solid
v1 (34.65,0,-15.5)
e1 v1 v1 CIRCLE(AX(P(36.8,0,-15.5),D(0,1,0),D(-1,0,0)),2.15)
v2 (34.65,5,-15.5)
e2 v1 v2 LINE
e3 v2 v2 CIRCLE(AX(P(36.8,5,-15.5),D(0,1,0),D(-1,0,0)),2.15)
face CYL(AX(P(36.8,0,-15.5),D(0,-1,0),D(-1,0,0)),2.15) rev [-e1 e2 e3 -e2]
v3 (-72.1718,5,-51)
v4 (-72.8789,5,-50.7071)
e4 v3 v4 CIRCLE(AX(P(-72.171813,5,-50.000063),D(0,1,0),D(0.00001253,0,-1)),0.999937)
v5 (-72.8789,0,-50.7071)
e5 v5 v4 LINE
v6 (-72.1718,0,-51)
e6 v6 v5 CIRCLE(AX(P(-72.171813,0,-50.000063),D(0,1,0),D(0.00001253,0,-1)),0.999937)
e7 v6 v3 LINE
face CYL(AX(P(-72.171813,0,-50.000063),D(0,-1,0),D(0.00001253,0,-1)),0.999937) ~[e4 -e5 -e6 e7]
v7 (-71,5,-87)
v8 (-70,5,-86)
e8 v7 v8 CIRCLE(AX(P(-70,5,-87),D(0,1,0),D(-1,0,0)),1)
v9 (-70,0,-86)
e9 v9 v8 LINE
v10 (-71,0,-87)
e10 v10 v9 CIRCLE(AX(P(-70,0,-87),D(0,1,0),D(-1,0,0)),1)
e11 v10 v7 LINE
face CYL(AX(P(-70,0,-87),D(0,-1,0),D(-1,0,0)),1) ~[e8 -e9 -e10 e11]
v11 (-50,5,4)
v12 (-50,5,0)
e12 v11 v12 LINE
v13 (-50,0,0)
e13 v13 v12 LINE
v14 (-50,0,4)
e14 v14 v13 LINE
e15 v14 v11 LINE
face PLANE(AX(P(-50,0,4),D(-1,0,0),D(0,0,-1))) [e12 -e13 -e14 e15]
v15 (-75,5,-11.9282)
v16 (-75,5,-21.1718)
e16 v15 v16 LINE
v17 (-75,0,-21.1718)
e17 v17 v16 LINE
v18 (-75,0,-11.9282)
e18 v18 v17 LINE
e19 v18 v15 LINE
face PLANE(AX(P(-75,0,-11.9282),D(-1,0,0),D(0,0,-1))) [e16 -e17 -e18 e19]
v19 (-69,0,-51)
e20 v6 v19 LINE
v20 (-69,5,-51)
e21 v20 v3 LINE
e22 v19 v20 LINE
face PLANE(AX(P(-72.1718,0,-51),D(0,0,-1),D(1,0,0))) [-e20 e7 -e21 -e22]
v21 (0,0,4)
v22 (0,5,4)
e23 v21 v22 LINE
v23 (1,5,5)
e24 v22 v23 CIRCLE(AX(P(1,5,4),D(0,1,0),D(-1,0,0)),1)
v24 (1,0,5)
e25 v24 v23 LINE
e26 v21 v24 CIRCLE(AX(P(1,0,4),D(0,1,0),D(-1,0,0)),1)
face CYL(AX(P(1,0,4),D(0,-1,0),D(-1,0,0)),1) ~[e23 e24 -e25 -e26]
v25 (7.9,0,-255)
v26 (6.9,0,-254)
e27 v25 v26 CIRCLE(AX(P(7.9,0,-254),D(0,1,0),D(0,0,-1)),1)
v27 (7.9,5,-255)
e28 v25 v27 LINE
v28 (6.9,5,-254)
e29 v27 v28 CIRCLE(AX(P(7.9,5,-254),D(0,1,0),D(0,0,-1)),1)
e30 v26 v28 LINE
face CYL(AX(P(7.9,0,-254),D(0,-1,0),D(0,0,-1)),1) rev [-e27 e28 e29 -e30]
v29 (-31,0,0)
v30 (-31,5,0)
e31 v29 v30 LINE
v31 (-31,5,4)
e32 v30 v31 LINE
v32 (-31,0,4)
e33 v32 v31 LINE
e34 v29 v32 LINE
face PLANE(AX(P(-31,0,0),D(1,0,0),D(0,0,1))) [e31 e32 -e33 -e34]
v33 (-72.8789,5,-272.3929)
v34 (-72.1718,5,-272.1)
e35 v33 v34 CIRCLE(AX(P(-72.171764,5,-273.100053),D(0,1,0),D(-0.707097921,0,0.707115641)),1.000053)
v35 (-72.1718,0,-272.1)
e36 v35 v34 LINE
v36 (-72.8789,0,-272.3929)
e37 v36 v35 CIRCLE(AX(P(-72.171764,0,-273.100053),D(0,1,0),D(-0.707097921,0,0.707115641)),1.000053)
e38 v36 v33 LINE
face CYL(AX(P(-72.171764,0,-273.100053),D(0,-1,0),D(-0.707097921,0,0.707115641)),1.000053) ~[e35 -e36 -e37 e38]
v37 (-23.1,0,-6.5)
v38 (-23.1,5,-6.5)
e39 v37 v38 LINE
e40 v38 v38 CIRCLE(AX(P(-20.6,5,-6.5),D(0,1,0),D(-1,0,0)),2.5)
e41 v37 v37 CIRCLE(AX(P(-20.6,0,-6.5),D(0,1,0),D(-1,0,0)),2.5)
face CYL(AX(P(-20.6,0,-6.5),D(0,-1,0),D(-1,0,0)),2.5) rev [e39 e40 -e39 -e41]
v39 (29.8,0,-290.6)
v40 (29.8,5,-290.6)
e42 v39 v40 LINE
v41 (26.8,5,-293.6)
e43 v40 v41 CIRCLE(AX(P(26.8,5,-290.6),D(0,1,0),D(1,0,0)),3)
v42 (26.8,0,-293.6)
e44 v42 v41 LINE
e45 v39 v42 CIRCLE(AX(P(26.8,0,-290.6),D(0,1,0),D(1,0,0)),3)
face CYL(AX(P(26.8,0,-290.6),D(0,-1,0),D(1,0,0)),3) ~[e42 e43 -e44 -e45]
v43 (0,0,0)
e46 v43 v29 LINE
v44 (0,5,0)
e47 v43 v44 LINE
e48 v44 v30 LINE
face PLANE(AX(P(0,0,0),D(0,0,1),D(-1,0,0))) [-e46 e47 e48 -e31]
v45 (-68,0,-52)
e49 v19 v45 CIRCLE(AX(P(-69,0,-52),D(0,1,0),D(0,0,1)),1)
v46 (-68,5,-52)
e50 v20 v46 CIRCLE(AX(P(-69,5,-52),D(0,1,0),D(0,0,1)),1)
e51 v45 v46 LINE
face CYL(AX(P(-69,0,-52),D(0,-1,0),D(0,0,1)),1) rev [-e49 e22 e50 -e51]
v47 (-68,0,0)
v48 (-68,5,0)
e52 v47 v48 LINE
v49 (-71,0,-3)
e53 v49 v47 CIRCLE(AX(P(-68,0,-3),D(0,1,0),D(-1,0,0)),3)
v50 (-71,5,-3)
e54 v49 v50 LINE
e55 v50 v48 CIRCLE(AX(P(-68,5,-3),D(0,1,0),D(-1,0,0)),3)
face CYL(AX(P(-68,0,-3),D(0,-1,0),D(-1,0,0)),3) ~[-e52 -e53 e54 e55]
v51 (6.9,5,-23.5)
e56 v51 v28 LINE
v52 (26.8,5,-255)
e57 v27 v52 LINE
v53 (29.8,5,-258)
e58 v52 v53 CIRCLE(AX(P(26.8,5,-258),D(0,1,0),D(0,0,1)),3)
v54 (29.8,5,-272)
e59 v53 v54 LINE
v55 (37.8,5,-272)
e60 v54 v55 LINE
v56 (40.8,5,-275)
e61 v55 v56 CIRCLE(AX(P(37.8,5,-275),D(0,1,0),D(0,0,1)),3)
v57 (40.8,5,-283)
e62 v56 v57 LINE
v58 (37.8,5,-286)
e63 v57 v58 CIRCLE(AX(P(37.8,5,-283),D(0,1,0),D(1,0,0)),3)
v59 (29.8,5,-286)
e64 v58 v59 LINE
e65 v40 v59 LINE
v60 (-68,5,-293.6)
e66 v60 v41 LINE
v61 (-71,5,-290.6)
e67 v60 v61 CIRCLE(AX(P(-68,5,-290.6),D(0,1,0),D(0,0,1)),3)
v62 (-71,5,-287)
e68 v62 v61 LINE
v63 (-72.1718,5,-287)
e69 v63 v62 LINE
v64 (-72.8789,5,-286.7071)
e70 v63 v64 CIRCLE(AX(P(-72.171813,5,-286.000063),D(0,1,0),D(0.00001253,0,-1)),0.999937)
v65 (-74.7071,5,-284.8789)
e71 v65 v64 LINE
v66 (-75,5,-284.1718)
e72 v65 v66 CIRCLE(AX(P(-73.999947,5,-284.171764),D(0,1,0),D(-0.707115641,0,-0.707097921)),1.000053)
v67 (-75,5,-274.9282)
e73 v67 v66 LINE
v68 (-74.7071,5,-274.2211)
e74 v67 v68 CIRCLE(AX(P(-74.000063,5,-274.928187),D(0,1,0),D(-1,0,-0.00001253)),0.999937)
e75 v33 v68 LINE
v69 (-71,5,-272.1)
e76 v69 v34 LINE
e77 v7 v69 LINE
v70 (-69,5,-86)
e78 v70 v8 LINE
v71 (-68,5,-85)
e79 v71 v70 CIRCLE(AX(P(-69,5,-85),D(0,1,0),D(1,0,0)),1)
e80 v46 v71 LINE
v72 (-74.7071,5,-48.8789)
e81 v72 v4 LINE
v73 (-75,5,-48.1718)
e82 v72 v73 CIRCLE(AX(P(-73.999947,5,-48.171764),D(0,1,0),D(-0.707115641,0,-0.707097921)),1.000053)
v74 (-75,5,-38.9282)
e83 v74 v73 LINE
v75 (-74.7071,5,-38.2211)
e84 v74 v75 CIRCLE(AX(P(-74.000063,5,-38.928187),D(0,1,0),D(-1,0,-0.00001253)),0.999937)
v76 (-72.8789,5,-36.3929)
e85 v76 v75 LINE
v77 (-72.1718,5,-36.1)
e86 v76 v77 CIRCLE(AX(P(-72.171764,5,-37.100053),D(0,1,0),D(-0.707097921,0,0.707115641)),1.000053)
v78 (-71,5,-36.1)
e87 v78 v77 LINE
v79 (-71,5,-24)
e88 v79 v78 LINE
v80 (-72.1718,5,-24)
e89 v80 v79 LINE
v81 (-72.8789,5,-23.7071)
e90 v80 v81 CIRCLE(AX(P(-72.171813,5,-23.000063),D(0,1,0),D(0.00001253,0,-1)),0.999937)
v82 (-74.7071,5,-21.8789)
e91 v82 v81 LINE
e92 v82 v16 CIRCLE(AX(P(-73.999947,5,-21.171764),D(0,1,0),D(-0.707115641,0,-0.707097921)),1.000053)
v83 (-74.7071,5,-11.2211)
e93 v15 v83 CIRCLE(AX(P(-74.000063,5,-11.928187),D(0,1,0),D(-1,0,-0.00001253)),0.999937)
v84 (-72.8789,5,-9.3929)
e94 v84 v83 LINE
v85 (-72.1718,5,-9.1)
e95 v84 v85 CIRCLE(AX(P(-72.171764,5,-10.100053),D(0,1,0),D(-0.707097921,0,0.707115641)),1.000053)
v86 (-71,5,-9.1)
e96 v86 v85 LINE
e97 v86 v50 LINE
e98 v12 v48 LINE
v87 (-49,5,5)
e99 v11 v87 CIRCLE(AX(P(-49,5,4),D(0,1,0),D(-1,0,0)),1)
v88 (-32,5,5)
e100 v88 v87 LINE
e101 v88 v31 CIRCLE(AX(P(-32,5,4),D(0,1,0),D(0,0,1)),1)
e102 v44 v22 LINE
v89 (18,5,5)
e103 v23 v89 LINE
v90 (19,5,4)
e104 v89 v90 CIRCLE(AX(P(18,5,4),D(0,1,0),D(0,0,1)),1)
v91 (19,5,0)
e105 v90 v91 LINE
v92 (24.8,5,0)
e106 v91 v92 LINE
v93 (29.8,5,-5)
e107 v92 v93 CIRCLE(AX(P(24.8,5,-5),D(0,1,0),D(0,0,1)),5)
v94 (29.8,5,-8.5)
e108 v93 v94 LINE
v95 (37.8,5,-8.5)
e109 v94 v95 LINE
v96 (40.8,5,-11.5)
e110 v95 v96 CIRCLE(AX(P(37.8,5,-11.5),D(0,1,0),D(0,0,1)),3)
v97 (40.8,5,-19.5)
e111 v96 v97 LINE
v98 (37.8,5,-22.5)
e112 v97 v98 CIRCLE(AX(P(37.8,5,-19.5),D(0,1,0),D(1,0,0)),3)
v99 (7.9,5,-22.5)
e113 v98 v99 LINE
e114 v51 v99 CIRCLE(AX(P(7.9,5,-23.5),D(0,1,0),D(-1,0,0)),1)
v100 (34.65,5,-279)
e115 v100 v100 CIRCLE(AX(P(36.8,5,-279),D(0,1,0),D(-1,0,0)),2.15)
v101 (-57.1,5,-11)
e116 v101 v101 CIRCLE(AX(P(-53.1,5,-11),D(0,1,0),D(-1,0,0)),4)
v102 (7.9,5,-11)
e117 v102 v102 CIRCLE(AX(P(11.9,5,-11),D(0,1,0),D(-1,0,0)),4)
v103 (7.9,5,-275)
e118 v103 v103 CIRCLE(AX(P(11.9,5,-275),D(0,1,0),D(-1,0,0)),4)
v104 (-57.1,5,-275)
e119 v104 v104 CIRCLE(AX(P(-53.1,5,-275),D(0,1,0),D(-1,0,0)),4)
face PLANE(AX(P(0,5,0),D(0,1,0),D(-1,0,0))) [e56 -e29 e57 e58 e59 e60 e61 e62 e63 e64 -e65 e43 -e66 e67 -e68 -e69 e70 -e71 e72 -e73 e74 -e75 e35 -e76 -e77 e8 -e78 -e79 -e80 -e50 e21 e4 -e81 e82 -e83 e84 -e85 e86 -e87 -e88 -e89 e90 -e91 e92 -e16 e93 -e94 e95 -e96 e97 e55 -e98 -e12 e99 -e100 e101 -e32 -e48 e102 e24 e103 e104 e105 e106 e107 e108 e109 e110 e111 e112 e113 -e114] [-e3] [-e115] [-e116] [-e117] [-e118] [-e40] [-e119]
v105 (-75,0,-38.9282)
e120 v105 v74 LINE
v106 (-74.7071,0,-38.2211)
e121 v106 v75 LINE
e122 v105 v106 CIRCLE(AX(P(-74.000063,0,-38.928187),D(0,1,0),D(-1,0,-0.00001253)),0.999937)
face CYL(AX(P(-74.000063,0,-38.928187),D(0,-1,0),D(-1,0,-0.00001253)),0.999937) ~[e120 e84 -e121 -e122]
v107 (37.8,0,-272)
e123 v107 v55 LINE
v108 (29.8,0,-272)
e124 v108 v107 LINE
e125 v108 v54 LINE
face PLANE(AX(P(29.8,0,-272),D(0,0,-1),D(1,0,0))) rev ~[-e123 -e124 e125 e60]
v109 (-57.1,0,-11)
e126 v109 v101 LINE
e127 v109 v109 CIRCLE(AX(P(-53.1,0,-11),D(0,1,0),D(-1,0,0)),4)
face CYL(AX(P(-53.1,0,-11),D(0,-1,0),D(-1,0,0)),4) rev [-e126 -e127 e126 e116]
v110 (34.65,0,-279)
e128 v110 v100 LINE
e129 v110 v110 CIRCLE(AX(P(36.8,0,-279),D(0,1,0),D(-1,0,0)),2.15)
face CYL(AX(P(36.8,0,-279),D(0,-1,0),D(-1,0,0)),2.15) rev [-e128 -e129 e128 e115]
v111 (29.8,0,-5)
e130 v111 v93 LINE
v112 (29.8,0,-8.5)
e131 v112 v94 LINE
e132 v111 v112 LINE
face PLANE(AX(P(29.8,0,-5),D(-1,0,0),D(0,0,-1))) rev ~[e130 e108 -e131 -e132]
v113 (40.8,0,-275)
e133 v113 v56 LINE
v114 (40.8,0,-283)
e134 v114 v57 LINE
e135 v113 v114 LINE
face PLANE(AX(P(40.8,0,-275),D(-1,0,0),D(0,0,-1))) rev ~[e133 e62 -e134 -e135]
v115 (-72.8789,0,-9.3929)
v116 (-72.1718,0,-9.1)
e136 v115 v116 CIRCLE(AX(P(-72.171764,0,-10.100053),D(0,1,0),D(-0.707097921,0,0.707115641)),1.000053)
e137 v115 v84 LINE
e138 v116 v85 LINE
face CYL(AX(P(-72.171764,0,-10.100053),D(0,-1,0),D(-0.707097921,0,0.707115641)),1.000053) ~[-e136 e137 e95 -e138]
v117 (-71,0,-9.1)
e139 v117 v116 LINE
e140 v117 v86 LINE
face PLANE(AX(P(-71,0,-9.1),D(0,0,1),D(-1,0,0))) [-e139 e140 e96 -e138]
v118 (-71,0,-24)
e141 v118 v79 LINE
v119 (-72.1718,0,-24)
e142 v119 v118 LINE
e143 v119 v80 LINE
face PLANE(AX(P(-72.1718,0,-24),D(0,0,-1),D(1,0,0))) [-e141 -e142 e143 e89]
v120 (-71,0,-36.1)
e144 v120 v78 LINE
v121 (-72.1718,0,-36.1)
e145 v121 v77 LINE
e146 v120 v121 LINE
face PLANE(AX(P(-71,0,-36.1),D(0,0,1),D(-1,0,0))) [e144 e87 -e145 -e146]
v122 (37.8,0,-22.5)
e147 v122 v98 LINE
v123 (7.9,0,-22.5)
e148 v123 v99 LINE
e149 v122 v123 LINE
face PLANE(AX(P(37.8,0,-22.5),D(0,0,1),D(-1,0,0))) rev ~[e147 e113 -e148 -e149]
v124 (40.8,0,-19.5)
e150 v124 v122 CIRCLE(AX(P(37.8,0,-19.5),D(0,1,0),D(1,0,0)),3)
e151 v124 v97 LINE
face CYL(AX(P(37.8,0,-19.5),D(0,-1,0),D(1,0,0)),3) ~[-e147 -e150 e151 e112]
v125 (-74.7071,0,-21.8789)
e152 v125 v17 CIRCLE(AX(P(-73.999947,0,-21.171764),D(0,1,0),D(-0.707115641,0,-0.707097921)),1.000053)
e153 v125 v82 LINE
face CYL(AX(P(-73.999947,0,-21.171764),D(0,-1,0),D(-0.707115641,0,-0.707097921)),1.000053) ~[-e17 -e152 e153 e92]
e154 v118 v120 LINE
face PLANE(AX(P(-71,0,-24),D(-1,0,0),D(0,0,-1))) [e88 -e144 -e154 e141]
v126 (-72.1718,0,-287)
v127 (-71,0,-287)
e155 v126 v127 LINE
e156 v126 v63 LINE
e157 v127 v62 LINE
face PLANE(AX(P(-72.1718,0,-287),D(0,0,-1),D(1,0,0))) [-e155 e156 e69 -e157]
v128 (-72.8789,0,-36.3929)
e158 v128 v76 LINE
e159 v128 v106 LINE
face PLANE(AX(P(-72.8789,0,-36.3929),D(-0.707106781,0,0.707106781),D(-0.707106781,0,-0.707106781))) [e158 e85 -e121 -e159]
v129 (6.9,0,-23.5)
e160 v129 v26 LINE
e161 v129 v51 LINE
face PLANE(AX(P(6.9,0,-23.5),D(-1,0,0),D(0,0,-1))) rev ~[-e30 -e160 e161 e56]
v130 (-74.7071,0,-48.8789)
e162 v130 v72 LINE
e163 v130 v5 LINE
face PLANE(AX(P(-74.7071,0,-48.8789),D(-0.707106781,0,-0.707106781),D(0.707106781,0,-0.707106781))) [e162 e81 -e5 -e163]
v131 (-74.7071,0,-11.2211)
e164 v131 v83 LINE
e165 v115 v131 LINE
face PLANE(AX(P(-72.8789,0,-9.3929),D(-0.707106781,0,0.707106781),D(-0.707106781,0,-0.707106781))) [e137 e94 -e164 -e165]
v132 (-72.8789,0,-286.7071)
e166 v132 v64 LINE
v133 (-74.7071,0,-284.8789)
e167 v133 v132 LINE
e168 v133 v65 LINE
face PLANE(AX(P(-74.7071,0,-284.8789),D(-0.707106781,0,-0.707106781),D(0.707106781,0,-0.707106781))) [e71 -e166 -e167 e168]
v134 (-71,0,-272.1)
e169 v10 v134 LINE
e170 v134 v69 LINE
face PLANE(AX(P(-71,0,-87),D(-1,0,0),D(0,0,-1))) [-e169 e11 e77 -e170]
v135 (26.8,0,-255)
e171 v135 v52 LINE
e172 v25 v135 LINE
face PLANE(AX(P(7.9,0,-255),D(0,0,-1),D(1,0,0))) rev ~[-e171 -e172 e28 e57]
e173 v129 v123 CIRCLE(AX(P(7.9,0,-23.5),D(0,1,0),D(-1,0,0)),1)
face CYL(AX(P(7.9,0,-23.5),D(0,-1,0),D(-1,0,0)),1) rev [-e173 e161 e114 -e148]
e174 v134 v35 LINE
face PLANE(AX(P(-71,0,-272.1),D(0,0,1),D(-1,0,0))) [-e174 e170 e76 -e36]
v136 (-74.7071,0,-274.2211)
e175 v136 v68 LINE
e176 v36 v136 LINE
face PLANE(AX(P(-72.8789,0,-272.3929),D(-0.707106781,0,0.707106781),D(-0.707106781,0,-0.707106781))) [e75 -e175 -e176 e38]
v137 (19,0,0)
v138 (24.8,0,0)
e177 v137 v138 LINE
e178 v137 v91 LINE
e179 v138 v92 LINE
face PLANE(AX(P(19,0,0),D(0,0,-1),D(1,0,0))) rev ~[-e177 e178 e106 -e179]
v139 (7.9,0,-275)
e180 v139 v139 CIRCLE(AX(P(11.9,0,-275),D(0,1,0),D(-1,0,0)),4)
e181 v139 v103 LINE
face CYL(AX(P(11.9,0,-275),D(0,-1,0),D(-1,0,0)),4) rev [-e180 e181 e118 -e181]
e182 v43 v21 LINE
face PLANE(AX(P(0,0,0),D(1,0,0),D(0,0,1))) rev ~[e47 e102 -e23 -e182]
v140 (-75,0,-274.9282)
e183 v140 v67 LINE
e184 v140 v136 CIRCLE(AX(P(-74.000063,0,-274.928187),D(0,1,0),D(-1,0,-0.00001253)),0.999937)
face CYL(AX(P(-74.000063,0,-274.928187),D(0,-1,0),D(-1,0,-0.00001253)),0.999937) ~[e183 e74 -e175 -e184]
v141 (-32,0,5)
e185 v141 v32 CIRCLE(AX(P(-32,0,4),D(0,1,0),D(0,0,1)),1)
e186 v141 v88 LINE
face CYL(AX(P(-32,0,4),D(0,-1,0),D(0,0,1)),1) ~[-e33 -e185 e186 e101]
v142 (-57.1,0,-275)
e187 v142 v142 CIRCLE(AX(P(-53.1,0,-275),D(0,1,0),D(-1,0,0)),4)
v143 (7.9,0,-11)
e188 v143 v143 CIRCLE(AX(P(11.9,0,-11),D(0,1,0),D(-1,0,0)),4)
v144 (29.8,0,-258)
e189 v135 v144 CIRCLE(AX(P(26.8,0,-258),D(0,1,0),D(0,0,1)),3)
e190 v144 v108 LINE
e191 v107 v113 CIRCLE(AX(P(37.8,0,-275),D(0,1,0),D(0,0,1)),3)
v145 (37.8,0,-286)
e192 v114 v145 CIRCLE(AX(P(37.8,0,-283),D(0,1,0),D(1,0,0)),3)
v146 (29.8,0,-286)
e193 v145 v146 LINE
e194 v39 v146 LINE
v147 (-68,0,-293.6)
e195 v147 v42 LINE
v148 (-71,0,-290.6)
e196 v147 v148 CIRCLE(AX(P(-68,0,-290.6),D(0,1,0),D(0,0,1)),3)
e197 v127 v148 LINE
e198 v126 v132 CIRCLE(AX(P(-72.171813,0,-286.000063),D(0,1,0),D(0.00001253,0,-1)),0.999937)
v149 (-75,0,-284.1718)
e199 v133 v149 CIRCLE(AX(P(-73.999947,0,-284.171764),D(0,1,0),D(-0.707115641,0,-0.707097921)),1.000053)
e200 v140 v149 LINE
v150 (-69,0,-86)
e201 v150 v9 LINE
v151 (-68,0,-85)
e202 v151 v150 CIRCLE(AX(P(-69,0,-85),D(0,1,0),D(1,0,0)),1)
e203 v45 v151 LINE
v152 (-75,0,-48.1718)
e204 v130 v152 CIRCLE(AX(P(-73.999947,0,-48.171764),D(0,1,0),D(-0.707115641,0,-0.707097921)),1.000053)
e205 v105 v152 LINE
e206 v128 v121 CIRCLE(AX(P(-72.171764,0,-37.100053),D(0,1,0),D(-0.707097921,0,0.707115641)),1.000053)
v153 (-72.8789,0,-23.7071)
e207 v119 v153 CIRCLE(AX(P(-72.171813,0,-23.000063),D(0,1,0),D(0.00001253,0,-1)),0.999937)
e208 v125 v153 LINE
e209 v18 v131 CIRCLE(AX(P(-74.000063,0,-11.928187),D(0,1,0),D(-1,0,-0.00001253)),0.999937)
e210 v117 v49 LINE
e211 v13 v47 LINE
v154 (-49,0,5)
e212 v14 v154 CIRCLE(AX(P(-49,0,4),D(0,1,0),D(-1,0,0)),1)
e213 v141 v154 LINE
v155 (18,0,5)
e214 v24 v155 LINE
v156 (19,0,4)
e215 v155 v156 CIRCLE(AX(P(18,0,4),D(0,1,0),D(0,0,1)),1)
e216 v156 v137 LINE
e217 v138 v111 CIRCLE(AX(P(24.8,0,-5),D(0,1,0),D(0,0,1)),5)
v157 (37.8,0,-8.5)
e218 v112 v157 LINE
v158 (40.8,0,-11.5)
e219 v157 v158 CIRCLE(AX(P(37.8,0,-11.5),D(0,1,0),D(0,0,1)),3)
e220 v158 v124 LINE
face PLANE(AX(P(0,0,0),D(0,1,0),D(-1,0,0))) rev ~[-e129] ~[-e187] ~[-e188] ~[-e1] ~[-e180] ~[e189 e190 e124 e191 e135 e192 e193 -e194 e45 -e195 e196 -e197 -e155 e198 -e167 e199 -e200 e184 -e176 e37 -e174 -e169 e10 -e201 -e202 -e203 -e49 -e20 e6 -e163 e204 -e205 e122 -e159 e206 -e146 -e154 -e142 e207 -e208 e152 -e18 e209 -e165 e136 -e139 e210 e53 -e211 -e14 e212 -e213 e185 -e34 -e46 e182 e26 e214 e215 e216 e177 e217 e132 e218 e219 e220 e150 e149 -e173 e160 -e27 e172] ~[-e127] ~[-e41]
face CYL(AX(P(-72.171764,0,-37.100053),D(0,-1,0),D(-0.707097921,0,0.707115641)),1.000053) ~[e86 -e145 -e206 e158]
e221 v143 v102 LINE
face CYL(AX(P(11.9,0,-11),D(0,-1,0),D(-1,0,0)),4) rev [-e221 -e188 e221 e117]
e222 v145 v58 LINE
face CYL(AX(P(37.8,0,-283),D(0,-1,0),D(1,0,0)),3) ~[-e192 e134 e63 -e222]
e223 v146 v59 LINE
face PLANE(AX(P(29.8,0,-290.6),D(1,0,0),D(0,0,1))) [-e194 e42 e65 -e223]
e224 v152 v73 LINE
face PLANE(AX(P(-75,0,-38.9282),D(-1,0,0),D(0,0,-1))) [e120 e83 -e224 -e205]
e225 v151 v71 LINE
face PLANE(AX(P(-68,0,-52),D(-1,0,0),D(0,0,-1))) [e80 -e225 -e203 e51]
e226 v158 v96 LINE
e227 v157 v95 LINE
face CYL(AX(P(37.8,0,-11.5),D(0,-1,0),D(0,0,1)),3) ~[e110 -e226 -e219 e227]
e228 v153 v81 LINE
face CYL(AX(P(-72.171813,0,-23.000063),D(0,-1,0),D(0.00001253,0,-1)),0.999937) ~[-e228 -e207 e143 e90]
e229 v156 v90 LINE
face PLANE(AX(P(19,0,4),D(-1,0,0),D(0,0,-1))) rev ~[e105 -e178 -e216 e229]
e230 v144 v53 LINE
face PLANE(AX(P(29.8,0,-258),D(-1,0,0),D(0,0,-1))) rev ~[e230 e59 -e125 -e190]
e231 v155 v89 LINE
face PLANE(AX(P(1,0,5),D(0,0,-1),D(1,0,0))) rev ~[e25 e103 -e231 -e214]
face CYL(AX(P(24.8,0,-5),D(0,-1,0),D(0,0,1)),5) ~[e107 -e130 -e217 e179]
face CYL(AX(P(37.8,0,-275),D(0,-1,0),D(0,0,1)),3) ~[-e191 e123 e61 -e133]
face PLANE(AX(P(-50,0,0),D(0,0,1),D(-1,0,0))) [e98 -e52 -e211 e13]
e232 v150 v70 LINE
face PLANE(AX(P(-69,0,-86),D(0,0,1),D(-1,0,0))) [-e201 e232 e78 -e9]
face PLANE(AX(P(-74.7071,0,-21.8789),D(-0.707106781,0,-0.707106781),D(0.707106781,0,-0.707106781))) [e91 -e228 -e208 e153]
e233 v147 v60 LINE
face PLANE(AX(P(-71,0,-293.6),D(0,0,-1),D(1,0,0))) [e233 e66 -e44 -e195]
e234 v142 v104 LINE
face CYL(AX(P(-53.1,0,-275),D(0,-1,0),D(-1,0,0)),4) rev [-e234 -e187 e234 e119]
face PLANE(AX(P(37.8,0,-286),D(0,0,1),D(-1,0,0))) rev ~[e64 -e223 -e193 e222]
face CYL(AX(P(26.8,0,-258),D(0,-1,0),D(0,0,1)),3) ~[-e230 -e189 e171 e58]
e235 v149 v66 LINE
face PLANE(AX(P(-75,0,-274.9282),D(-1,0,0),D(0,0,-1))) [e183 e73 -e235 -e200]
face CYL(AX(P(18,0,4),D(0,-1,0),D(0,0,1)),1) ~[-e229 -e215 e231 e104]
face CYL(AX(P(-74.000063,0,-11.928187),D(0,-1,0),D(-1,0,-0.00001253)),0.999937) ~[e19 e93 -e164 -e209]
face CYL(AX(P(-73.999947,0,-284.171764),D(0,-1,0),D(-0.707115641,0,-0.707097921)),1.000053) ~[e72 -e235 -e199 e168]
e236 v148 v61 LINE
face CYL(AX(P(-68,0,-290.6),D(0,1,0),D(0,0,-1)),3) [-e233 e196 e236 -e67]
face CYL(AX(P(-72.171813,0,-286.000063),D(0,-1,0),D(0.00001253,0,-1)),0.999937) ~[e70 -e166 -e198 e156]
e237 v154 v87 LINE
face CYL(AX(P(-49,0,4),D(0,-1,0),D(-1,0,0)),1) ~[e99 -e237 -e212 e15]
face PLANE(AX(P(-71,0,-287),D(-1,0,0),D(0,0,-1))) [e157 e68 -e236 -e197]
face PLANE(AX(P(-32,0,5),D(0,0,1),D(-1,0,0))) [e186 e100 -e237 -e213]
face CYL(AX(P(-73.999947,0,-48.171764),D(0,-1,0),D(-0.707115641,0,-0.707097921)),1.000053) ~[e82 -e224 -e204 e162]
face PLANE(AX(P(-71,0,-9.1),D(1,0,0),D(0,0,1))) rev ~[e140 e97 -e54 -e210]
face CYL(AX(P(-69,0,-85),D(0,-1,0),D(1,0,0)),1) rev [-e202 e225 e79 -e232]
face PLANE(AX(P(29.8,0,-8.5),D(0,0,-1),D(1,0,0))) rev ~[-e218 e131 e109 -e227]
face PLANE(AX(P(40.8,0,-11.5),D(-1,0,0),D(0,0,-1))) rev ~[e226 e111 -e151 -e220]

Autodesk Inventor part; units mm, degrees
ref_plane "YZ Plane" through (0, 0, 0) normal (1, 0, 0) x (0, 1, 0)
ref_plane "XZ Plane" through (0, 0, 0) normal (0, 1, 0) x (-1, 0, 0)
ref_plane "XY Plane" through (0, 0, 0) normal (0, 0, 1) x (1, 0, 0)
sketch "Sketch1" plane through (0, 0, 0) normal (0, 1, 0) x (-1, 0, 0)
  line L0 (0, 0) -> (31, 0)
  line L1 (31, 0) -> (31, 4)
  line L2 (32, 5) -> (49, 5)
  line L3 (50, 4) -> (50, 0)
  line L4 (50, 0) -> (68, 0)
  line L5 (68, -52) -> (68, -85)
  line L6 (69, -86) -> (70, -86)
  line L7 (71, -87) -> (71, -272.1)
  line L8 (71, -272.1) -> (72.1718, -272.1)
  line L9 (72.8789, -272.3929) -> (74.7071, -274.2211)
  line L10 (75, -274.9282) -> (75, -284.1718)
  line L11 (74.7071, -284.8789) -> (72.8789, -286.7071)
  line L12 (72.1718, -287) -> (71, -287)
  line L13 (71, -287) -> (71, -293.6)
  line L14 (71, -293.6) -> (-26.8, -293.6)
  line L15 (-29.8, -290.6) -> (-29.8, -286)
  line L16 (0, 0) -> (0, 4)
  line L17 (-1, 5) -> (-18, 5)
  line L18 (-19, 4) -> (-19, 0)
  line L19 (-19, 0) -> (-24.8, 0)
  line L20 (-29.8, -5) -> (-29.8, -8.5)
  line L21 (-29.8, -8.5) -> (-37.8, -8.5)
  line L22 (-40.8, -11.5) -> (-40.8, -19.5)
  line L23 (-37.8, -22.5) -> (-7.9, -22.5)
  line L24 (-6.9, -23.5) -> (-6.9, -254)
  line L25 (-7.9, -255) -> (-26.8, -255)
  line L26 (-29.8, -258) -> (-29.8, -272)
  line L27 (-29.8, -272) -> (-37.8, -272)
  line L28 (-40.8, -275) -> (-40.8, -283)
  line L29 (-37.8, -286) -> (-29.8, -286)
  circle A0 centre (53.1, -11) radius 4
  circle A1 centre (-11.9, -11) radius 4
  circle A2 centre (53.1, -275) radius 4
  circle A3 centre (-11.9, -275) radius 4
  line L30 (69, -51) -> (70, -51)
  arc A4 (-18, 5) -> (-19, 4) centre (-18, 4) ccw
  arc A5 (0, 4) -> (-1, 5) centre (-1, 4) ccw
  arc A6 (32, 5) -> (31, 4) centre (32, 4) ccw
  arc A7 (50, 4) -> (49, 5) centre (49, 4) ccw
  arc A8 (-24.8, 0) -> (-29.8, -5) centre (-24.8, -5) ccw
  arc A9 (-7.9, -255) -> (-6.9, -254) centre (-7.9, -254) ccw
  arc A10 (-26.8, -255) -> (-29.8, -258) centre (-26.8, -258) ccw
  arc A11 (-37.8, -272) -> (-40.8, -275) centre (-37.8, -275) ccw
  arc A12 (-40.8, -283) -> (-37.8, -286) centre (-37.8, -283) ccw
  arc A13 (-40.8, -19.5) -> (-37.8, -22.5) centre (-37.8, -19.5) ccw
  arc A14 (-37.8, -8.5) -> (-40.8, -11.5) centre (-37.8, -11.5) ccw
  arc A15 (72.8789, -272.3929) -> (72.1718, -272.1) centre (72.1718, -273.1) ccw
  arc A16 (75, -274.9282) -> (74.7071, -274.2211) centre (74, -274.9282) ccw
  arc A17 (74.7071, -284.8789) -> (75, -284.1718) centre (74, -284.1718) ccw
  arc A18 (72.1718, -287) -> (72.8789, -286.7071) centre (72.1718, -286) ccw
  line L31 (71, -9.1) -> (72.1718, -9.1)
  line L32 (72.8789, -9.3929) -> (74.7071, -11.2211)
  line L33 (75, -11.9282) -> (75, -21.1718)
  line L34 (74.7071, -21.8789) -> (72.8789, -23.7071)
  line L35 (72.1718, -24) -> (71, -24)
  arc A19 (72.8789, -9.3929) -> (72.1718, -9.1) centre (72.1718, -10.1) ccw
  arc A20 (75, -11.9282) -> (74.7071, -11.2211) centre (74, -11.9282) ccw
  arc A21 (74.7071, -21.8789) -> (75, -21.1718) centre (74, -21.1718) ccw
  arc A22 (72.1718, -24) -> (72.8789, -23.7071) centre (72.1718, -23) ccw
  line L36 (71, -36.1) -> (72.1718, -36.1)
  line L37 (72.8789, -36.3929) -> (74.7071, -38.2211)
  line L38 (75, -38.9282) -> (75, -48.1718)
  line L39 (74.7071, -48.8789) -> (72.8789, -50.7071)
  line L40 (72.1718, -51) -> (71, -51)
  arc A23 (72.8789, -36.3929) -> (72.1718, -36.1) centre (72.1718, -37.1) ccw
  arc A24 (75, -38.9282) -> (74.7071, -38.2211) centre (74, -38.9282) ccw
  arc A25 (74.7071, -48.8789) -> (75, -48.1718) centre (74, -48.1718) ccw
  arc A26 (72.1718, -51) -> (72.8789, -50.7071) centre (72.1718, -50) ccw
  line L41 (71, -9.1) -> (71, -3)
  line L42 (71, -24) -> (71, -36.1)
  arc A27 (69, -51) -> (68, -52) centre (69, -52) ccw
  arc A28 (68, -85) -> (69, -86) centre (69, -85) ccw
  arc A29 (71, -87) -> (70, -86) centre (70, -87) ccw
  line L43 (71, -51) -> (70, -51)
  arc A30 (71, -3) -> (68, 0) centre (68, -3) ccw
  arc A31 (-6.9, -23.5) -> (-7.9, -22.5) centre (-7.9, -23.5) ccw
  arc A32 (-29.8, -290.6) -> (-26.8, -293.6) centre (-26.8, -290.6) ccw
  circle A33 centre (-36.8, -15.5) radius 2.15
  circle A34 centre (-36.8, -279) radius 2.15
  circle A35 centre (20.6, -6.5) radius 2.5
  point P0 (31, 5)
  point P1 (50, 5)
  point P2 (71, 0)
  point P3 (68, -86)
  point P4 (71, -86)
  point P5 (72.586, -272.1)
  point P6 (72.586, -287)
  point P7 (0, 5)
  point P8 (59, 0)
  point P9 (50, 2)
  point P10 (71, -5)
  point P11 (-22.85, -22.5)
  point P12 (-33.8, -8.5)
  point P13 (71.5859, -287)
  point P14 (71.8793, -10)
  point P15 (69.5, -51)
  point P16 (-21.9, 0)
  point P17 (71.5859, -24)
  point P18 (71.5859, -51)
  point P19 (69.5, -86)
  point P20 (-29.8, -6.75)
  point P21 (40.5, 5)
  dimension "d0" = 90
  dimension "d1" = 31
  dimension "d3" = 19
  dimension "d4" = 19
  dimension "d8" = 14
  dimension "d10" = 0
  dimension "d11" = 8
  dimension "d12" = 11
  dimension "d13" = 8
  dimension "d14" = 65
  dimension "d15" = 8
  dimension "d16" = 8
  dimension "d17" = 264
  dimension "d18" = 264
  dimension "d21" = 3
  dimension "d24" = 51
  dimension "d25" = 5
  dimension "d26" = 5
  dimension "d27" = 1
  dimension "d28" = 5
  dimension "d30" = 77.9
  dimension "d32" = 1
  dimension "d33" = 3
  dimension "d34" = 17
  dimension "d35" = 14
  dimension "d36" = 11
  dimension "d37" = 3
  dimension "d38" = 22.5
  dimension "d39" = 33.9
  dimension "d40" = 3
  dimension "d41" = 11
  dimension "d42" = 4
  dimension "d43" = 14.9
  dimension "d44" = 6.6
  dimension "d45" = 1.586
  dimension "d46" = 135
  dimension "d47" = 1.586
  dimension "d48" = 135
  dimension "d49" = 1
  dimension "d50" = 14.9
  dimension "d51" = 135
  dimension "d52" = 135
  dimension "d53" = 1
  dimension "d54" = 14.9
  dimension "d55" = 135
  dimension "d56" = 135
  dimension "d57" = 1
  dimension "d58" = 9.1
  dimension "d59" = 12.1
  dimension "d61" = 1
  dimension "d62" = 35
  dimension "d63" = 100.8
  dimension "d64" = 38.6
  dimension "d67" = 3
  dimension "d68" = 1
  dimension "d69" = 3
  dimension "d70" = 232.5
  dimension "d71" = 27.5
  dimension "d74" = 293.6
  dimension "d75" = 185.1
  dimension "d76" = 4.3
  dimension "d77" = 4
  dimension "d78" = 7
  dimension "d79" = 4
extrude "Extrusion1" add sketch "Sketch1" along normal blind 5 contours L0 L1 A6 L2 A7 L3 L4 A30 L41 L31 A19 L32 A20 L33 A21 L34 A22 L35 L42 L36 A23 L37 A24 L38 A25 L39 A26 L40 L43 L30 A27 L5 A28 L6 A29 L7 L8 A15 L9 A16 L10 A17 L11 A18 L12 L13 L14 A32 L15 L29 A12 L28 A11 L27 L26 A10 L25 A9 L24 A31 L23 A13 L22 A14 L21 L20 A8 L19 L18 A4 L17 A5 L16 | A33 | A34 | A35
extrude "Extrusion2" cut sketch "Sketch1" along normal blind 5 contours A33 | A34 | A35
fillet "Fillet1" radius 3 1 edges at (-71, 2.5, -293.6)
thread "Thread1" size "M8x1.25" class "6H" standard "ANSI Metric M Profile" length 5
thread "Thread2" size "M8x1.25" class "6H" standard "ANSI Metric M Profile" length 5
thread "Thread3" size "M8x1.25" class "6H" standard "ANSI Metric M Profile" length 5
thread "Thread4" size "M8x1.25" class "6H" standard "ANSI Metric M Profile" length 5
properties part number "21-30-220-B2"
